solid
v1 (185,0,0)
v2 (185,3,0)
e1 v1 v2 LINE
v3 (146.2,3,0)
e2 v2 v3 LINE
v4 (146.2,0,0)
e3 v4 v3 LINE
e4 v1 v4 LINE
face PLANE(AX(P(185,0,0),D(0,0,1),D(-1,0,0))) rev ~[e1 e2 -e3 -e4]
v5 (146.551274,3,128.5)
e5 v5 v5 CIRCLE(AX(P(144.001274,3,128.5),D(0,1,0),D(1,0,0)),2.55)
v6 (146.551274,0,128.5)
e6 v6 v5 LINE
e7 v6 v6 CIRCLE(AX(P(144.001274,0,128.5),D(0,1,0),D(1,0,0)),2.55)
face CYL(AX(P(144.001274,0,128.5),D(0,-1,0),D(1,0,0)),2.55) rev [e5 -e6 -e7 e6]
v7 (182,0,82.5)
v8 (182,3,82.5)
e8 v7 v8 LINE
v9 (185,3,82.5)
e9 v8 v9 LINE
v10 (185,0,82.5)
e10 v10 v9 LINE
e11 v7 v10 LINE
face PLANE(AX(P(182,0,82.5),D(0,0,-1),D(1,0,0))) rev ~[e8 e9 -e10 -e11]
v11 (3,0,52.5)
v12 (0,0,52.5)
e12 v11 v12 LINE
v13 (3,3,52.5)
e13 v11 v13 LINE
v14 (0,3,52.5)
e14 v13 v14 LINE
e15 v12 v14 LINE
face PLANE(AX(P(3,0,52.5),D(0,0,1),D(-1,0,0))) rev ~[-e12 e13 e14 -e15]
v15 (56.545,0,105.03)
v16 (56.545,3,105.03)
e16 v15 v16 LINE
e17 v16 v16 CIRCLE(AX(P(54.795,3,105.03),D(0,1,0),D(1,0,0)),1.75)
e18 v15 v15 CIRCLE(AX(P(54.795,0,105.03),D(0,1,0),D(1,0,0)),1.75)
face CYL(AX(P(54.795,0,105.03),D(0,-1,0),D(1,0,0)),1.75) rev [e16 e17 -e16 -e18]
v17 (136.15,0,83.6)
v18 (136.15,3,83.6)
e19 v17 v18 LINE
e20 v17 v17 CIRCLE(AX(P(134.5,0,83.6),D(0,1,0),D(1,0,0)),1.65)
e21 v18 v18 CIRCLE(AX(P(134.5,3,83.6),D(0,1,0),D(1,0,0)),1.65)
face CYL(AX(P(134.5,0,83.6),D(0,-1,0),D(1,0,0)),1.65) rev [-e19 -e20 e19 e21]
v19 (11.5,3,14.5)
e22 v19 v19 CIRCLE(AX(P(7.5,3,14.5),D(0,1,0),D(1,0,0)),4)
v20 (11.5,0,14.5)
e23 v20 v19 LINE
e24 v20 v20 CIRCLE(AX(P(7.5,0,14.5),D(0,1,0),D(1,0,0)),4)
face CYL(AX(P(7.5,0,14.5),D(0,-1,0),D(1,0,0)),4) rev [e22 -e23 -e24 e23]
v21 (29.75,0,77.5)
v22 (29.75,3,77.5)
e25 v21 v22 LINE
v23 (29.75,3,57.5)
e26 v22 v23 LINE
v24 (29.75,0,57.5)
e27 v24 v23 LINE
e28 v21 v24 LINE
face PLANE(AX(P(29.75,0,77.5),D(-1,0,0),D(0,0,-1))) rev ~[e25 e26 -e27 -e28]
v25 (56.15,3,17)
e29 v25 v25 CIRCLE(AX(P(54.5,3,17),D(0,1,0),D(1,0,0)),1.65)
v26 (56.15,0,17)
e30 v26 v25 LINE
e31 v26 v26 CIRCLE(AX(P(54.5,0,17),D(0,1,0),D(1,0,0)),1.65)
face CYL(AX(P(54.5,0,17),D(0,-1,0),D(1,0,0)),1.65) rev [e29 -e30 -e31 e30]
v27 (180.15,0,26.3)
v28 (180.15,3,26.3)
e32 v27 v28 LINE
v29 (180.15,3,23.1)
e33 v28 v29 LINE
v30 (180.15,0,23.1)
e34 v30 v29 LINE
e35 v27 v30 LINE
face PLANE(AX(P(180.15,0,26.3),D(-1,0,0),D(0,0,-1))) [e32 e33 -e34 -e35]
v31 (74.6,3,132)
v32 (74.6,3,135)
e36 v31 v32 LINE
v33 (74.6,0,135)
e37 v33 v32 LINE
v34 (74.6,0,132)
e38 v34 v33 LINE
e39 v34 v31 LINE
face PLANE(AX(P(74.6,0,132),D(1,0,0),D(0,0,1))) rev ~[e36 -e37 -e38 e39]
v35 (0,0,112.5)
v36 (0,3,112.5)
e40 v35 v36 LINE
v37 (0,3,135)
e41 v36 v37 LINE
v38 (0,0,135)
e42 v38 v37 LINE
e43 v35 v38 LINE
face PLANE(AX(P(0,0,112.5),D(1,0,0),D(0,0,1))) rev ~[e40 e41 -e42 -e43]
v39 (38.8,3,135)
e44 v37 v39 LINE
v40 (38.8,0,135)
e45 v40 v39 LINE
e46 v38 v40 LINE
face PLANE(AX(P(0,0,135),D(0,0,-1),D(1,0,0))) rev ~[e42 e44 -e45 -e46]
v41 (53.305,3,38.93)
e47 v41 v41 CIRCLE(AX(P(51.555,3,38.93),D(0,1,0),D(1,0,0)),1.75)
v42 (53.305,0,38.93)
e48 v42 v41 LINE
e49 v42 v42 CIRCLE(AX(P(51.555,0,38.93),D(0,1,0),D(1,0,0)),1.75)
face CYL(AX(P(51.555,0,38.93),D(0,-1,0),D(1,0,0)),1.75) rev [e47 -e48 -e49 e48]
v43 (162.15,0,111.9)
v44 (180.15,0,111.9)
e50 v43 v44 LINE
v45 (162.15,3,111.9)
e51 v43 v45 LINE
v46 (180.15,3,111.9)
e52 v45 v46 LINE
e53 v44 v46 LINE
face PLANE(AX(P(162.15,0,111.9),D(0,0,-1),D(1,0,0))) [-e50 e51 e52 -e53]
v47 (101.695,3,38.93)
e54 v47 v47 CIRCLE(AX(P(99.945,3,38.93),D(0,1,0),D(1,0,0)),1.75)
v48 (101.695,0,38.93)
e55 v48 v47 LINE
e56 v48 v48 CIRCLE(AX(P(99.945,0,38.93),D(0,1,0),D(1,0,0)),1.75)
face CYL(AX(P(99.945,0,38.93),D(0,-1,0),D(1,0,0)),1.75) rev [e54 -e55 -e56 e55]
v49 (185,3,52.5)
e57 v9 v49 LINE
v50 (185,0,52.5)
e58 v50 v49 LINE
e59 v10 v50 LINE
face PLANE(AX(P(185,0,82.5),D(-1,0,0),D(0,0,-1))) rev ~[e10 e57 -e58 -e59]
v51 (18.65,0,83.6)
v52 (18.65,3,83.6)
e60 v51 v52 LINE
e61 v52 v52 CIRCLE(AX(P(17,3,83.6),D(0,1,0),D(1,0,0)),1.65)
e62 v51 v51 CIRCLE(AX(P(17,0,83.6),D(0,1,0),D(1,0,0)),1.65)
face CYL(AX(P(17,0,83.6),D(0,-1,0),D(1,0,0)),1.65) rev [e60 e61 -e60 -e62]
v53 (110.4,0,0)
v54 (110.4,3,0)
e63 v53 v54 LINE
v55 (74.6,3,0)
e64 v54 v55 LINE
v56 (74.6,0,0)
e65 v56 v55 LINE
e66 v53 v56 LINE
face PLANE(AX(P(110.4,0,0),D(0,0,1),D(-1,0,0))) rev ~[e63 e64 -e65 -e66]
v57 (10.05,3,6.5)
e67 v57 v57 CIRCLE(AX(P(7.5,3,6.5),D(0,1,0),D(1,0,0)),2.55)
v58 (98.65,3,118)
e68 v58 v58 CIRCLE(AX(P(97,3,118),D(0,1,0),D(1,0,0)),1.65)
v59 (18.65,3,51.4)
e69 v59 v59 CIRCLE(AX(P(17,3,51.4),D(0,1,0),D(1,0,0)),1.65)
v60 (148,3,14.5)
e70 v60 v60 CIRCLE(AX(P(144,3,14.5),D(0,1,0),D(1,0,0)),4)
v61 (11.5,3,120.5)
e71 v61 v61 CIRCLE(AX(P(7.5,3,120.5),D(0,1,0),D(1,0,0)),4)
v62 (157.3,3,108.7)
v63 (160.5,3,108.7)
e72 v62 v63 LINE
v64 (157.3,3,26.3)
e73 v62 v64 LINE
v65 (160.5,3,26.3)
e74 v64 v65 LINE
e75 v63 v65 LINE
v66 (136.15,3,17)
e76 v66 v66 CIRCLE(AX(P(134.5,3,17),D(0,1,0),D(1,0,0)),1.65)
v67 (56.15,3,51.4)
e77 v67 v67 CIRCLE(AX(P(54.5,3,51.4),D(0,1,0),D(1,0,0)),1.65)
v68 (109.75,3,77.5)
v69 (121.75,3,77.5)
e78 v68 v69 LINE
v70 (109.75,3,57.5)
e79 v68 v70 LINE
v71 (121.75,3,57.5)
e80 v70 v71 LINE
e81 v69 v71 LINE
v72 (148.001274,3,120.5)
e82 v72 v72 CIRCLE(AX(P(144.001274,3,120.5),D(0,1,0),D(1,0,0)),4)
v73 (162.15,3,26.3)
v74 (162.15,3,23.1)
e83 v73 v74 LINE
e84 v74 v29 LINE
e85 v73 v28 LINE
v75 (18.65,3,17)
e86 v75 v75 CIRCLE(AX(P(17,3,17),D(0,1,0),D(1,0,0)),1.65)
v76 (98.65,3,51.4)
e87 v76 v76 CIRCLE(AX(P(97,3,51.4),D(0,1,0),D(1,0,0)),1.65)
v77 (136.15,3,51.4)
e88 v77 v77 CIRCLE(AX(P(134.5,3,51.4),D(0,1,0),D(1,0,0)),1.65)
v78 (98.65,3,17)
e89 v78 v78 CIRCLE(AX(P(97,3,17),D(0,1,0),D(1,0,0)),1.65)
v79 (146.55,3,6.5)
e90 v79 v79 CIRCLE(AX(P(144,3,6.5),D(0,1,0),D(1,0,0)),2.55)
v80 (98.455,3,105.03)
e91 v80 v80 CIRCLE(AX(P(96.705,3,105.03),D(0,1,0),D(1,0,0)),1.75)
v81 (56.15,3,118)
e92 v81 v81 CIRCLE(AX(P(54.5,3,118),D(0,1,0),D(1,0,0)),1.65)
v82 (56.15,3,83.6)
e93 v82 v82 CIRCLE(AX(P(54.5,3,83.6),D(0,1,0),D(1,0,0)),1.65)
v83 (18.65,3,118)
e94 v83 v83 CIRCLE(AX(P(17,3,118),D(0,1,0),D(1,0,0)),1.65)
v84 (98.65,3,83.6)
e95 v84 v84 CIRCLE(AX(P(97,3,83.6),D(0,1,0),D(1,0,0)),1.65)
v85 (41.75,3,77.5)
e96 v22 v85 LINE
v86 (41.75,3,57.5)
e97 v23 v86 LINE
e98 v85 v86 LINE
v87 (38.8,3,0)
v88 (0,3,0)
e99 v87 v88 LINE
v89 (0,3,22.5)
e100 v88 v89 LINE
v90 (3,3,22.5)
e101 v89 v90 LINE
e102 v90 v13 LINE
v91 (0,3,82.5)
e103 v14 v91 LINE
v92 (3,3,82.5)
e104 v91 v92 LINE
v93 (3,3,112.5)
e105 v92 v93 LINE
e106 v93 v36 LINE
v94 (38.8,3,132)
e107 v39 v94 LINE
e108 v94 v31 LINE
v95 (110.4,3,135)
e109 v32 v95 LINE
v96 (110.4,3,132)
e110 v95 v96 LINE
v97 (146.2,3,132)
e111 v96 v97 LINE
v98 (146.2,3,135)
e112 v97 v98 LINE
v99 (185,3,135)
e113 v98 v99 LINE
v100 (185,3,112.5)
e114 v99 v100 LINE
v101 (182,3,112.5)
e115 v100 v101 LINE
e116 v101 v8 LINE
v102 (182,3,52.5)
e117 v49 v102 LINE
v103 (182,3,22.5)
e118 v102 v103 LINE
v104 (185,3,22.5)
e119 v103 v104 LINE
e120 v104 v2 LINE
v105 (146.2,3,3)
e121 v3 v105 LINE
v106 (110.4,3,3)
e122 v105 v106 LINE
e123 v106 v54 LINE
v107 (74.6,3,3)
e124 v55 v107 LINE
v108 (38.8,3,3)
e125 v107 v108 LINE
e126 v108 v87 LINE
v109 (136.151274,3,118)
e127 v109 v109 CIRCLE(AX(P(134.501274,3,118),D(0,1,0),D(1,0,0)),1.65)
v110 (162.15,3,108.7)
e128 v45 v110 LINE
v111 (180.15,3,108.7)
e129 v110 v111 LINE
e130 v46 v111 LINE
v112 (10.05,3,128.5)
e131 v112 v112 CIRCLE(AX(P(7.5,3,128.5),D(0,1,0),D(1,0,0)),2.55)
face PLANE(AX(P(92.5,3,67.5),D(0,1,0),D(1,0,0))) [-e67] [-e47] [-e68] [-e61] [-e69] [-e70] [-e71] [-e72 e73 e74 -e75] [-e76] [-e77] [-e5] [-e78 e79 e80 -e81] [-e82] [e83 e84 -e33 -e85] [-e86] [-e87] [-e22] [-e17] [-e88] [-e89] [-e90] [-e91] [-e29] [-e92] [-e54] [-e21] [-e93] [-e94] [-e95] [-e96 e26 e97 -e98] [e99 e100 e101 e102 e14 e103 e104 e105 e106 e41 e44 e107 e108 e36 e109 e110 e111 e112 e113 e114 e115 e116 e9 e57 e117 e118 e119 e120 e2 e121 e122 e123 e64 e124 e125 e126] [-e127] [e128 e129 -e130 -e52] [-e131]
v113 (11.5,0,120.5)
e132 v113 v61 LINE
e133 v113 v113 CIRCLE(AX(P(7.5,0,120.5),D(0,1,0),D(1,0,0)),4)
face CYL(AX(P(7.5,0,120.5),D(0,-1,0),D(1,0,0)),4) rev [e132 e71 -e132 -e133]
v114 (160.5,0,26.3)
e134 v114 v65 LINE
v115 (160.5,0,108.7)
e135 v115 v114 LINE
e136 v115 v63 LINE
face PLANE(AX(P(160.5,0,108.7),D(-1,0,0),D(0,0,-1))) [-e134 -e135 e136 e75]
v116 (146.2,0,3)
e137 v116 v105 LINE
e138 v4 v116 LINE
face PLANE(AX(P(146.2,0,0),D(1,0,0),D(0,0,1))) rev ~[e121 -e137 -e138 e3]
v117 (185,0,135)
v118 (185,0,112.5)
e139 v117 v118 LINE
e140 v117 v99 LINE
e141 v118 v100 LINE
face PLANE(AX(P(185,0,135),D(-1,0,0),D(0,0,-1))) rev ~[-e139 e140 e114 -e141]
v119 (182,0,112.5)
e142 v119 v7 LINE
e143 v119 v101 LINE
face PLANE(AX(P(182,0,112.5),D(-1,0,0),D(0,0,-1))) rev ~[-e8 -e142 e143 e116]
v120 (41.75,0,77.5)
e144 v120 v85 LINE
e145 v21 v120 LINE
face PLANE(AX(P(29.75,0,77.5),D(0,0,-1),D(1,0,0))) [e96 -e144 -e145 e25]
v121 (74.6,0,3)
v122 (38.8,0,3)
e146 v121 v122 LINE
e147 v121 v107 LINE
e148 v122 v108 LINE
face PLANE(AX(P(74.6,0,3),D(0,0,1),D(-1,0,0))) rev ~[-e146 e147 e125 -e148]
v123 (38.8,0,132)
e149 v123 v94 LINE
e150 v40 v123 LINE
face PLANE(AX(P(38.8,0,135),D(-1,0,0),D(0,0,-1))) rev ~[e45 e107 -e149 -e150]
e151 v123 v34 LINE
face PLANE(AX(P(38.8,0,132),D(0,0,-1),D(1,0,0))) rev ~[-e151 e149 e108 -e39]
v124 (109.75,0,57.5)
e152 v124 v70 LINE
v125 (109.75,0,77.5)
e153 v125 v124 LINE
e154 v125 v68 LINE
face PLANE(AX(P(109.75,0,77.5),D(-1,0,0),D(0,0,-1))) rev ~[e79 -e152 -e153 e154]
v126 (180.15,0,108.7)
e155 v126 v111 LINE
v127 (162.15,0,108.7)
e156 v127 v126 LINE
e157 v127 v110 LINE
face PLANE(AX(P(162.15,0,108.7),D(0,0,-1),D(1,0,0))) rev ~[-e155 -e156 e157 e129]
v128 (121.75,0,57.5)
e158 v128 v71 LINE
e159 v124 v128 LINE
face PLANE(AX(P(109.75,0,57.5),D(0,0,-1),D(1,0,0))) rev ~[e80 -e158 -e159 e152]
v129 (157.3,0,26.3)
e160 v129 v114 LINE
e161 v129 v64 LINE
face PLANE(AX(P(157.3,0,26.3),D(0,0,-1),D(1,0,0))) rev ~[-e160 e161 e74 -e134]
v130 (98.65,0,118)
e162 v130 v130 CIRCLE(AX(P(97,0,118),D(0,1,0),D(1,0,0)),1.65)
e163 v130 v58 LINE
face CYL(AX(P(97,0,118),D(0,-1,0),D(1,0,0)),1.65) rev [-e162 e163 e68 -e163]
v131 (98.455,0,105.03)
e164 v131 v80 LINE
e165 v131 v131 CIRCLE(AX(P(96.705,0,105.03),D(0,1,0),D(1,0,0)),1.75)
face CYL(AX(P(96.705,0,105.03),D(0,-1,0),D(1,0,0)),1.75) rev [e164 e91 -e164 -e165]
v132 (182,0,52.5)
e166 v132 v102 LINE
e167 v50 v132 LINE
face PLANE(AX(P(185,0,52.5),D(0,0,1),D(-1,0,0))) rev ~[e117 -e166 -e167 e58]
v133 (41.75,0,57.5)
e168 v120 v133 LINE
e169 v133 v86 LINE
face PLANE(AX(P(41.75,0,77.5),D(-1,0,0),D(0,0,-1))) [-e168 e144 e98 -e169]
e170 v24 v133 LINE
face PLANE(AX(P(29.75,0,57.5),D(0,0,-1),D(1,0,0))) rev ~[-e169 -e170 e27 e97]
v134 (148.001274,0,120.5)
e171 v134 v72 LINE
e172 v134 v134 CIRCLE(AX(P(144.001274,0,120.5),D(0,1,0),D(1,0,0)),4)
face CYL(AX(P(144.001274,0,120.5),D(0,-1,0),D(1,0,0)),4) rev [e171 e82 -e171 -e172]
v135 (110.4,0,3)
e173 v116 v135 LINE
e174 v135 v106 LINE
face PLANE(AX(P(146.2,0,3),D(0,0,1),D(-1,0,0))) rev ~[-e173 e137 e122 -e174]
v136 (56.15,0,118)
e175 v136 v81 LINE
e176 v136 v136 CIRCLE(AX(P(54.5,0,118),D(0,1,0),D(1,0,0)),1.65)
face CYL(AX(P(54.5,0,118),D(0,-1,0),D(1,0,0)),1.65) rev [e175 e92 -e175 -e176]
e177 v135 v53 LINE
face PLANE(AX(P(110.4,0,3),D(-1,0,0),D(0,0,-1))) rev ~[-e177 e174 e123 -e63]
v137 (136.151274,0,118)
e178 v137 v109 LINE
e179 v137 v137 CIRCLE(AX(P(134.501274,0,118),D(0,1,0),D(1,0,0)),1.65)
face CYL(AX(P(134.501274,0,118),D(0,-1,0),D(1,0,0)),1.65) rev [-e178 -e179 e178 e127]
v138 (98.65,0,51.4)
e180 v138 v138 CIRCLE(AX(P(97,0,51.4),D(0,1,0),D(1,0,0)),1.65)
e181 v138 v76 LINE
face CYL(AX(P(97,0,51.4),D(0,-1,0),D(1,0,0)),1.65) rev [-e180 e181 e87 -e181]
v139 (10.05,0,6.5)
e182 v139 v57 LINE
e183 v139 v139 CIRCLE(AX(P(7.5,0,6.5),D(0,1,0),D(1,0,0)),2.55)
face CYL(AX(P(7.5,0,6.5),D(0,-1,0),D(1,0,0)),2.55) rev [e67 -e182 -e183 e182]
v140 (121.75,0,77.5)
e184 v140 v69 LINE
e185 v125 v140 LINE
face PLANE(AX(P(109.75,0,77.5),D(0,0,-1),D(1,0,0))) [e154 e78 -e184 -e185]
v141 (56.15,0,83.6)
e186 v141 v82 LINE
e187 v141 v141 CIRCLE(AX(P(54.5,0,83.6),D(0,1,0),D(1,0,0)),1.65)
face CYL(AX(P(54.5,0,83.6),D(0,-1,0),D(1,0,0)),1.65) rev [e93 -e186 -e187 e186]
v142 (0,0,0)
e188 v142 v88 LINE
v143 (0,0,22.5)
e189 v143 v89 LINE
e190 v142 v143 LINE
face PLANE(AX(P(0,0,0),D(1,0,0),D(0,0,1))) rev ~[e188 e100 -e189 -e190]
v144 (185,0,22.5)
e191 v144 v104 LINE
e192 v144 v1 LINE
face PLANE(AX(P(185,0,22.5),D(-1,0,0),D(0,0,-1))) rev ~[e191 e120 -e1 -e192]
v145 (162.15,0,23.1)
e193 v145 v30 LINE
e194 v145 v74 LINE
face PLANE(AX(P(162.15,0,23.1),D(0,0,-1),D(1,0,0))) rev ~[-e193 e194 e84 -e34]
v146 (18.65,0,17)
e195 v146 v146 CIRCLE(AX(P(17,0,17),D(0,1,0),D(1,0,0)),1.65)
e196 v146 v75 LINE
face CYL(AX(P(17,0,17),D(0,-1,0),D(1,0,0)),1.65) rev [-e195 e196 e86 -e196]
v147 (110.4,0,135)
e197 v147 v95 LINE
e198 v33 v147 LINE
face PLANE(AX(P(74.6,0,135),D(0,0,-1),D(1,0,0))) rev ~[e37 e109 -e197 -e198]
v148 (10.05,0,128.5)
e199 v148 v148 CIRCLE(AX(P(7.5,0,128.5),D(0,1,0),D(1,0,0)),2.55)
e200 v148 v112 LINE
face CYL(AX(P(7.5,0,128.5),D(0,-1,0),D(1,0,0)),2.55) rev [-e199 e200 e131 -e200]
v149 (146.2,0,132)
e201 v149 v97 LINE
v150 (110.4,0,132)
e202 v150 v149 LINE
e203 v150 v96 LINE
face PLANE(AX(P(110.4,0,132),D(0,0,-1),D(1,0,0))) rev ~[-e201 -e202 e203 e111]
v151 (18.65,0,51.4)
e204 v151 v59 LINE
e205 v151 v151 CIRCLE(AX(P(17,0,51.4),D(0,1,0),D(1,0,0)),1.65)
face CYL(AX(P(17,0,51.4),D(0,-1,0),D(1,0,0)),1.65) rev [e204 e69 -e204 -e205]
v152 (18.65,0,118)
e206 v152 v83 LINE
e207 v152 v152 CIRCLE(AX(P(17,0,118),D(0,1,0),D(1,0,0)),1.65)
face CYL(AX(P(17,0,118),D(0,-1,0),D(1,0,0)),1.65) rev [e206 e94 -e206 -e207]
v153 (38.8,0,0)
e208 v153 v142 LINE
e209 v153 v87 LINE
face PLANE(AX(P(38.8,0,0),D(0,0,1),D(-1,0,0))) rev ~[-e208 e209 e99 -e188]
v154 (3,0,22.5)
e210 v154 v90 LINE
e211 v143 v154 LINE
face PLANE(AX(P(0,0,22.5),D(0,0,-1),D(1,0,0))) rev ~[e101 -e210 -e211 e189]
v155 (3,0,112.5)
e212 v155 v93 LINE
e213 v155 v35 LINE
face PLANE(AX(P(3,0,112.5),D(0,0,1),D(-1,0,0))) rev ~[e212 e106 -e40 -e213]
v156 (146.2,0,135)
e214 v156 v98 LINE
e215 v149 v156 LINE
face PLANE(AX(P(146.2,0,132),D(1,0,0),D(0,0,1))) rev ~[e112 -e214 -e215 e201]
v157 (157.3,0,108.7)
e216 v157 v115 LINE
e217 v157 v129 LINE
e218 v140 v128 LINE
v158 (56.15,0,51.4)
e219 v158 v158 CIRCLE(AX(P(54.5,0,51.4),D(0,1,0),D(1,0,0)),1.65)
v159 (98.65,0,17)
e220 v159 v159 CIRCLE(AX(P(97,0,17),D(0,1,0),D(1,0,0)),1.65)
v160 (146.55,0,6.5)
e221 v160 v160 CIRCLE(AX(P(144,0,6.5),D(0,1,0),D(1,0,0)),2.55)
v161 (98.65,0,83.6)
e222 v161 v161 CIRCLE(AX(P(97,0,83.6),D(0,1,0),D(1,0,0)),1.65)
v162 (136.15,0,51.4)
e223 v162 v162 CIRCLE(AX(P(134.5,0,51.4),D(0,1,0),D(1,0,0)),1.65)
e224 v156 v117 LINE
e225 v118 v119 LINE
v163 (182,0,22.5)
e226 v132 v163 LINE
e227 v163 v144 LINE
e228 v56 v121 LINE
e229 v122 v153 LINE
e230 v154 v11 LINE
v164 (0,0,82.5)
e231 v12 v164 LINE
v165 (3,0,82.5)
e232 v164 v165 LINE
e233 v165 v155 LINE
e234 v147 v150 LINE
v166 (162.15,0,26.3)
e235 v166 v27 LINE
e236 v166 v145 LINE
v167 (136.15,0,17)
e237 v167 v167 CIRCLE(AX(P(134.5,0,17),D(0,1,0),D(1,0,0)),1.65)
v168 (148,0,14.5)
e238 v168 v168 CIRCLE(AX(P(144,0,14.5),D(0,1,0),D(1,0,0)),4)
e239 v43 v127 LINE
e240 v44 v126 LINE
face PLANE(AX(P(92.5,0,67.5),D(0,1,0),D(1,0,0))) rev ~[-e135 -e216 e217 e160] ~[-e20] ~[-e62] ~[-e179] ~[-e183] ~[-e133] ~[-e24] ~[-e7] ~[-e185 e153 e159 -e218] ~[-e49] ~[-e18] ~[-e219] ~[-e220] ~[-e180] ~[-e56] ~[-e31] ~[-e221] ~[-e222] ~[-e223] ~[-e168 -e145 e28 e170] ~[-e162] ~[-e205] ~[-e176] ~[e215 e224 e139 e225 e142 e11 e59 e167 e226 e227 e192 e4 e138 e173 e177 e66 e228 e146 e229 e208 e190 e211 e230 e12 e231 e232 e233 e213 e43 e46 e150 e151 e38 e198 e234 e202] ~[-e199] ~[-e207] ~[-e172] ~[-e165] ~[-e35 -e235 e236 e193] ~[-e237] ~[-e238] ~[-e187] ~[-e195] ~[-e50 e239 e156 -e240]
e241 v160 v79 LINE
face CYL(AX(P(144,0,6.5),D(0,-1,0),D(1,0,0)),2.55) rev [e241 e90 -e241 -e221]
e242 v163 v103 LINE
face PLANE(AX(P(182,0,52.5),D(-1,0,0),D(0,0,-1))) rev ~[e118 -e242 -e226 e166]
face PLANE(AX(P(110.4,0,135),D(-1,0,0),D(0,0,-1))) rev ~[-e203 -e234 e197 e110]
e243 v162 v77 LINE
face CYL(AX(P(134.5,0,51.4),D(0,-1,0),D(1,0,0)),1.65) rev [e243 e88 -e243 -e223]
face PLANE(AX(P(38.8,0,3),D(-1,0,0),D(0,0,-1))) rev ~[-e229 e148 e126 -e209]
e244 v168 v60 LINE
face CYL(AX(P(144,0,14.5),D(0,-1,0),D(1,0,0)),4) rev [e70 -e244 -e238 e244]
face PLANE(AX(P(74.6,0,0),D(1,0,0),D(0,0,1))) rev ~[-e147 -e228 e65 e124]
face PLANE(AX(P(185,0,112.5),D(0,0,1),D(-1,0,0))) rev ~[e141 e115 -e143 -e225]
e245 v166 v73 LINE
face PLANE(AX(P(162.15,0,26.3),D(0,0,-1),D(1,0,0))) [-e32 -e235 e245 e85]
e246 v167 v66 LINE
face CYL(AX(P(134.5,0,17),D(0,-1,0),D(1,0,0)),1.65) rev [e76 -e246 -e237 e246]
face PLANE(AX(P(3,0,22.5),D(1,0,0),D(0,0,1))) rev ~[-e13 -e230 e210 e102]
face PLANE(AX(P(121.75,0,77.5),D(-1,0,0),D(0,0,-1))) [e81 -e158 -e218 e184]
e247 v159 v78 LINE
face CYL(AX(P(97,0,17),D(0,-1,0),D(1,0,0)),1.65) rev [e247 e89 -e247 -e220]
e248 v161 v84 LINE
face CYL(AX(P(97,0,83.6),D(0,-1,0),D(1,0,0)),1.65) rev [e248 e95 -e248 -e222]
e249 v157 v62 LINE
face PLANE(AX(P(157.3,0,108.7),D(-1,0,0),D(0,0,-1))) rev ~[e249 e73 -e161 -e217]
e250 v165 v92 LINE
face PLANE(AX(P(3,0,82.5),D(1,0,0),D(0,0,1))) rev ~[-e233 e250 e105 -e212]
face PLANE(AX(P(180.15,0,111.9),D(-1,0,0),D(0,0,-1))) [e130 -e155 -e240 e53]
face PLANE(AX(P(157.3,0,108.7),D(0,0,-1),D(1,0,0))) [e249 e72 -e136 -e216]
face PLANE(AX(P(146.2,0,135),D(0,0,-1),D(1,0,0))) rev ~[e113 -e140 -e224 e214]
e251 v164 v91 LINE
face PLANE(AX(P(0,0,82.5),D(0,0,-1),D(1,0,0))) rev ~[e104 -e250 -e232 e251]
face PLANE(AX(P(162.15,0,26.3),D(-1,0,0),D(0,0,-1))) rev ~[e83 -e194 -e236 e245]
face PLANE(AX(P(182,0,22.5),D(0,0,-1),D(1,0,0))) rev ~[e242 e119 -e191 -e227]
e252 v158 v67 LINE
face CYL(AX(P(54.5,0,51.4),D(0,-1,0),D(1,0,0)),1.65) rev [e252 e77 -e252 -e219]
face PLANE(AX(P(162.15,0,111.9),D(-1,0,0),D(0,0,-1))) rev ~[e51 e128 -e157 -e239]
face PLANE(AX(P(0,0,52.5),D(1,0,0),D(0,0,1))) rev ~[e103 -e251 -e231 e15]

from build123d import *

# Parameters (mm, degrees)
SKETCH1_R           = 2.55
SKETCH1_R_2         = 4
SKETCH1_R_3         = 1.65
SKETCH1_R_4         = 1.75
SKETCH1_W           = 12
SKETCH1_H           = 20
SKETCH1_W_2         = 18
SKETCH1_H_2         = 3.2
SKETCH1_W_3         = 3.2
SKETCH1_H_3         = 82.4
BOSS_EXTRUDE1_DEPTH = 3


with BuildPart() as part:
    # Sketch1 → Boss-Extrude1 (new body)
    with BuildSketch(Plane(origin=(0, 0, 0), x_dir=(1, 0, 0), z_dir=(0, 1, 0))):
        Polygon((38.8, 0), (0, 0), (0, -22.5), (3, -22.5), (3, -52.5), (0, -52.5), (0, -82.5), (3, -82.5), (3, -112.5), (0, -112.5), (0, -135), (38.8, -135), (38.8, -132), (74.6, -132), (74.6, -135), (110.4, -135), (110.4, -132), (146.2, -132), (146.2, -135), (185, -135), (185, -112.5), (182, -112.5), (182, -82.5), (185, -82.5), (185, -52.5), (182, -52.5), (182, -22.5), (185, -22.5), (185, 0), (146.2, 0), (146.2, -3), (110.4, -3), (110.4, 0), (74.6, 0), (74.6, -3), (38.8, -3), align=None)
        with Locations((7.5, -128.5)):
            Circle(SKETCH1_R, mode=Mode.SUBTRACT)
        with Locations((7.5, -120.5)):
            Circle(SKETCH1_R_2, mode=Mode.SUBTRACT)
        with Locations((17, -118)):
            Circle(SKETCH1_R_3, mode=Mode.SUBTRACT)
        with Locations((54.5, -118)):
            Circle(SKETCH1_R_3, mode=Mode.SUBTRACT)
        with Locations((54.795, -105.03)):
            Circle(SKETCH1_R_4, mode=Mode.SUBTRACT)
        with Locations((17, -83.6)):
            Circle(SKETCH1_R_3, mode=Mode.SUBTRACT)
        with Locations((35.75, -67.5)):
            Rectangle(SKETCH1_W, SKETCH1_H, mode=Mode.SUBTRACT)
        with Locations((54.5, -83.6)):
            Circle(SKETCH1_R_3, mode=Mode.SUBTRACT)
        with Locations((97, -118)):
            Circle(SKETCH1_R_3, mode=Mode.SUBTRACT)
        with Locations((96.705, -105.03)):
            Circle(SKETCH1_R_4, mode=Mode.SUBTRACT)
        with Locations((134.501274191, -118)):
            Circle(SKETCH1_R_3, mode=Mode.SUBTRACT)
        with Locations((144.001274191, -128.5)):
            Circle(SKETCH1_R, mode=Mode.SUBTRACT)
        with Locations((144.001274191, -120.5)):
            Circle(SKETCH1_R_2, mode=Mode.SUBTRACT)
        with Locations((171.15, -110.3)):
            Rectangle(SKETCH1_W_2, SKETCH1_H_2, mode=Mode.SUBTRACT)
        with Locations((97, -83.6)):
            Circle(SKETCH1_R_3, mode=Mode.SUBTRACT)
        with Locations((134.5, -83.6)):
            Circle(SKETCH1_R_3, mode=Mode.SUBTRACT)
        with Locations((115.75, -67.5)):
            Rectangle(SKETCH1_W, SKETCH1_H, mode=Mode.SUBTRACT)
        with Locations((17, -51.4)):
            Circle(SKETCH1_R_3, mode=Mode.SUBTRACT)
        with Locations((54.5, -51.4)):
            Circle(SKETCH1_R_3, mode=Mode.SUBTRACT)
        with Locations((51.555, -38.93)):
            Circle(SKETCH1_R_4, mode=Mode.SUBTRACT)
        with Locations((17, -17)):
            Circle(SKETCH1_R_3, mode=Mode.SUBTRACT)
        with Locations((7.5, -14.5)):
            Circle(SKETCH1_R_2, mode=Mode.SUBTRACT)
        with Locations((7.5, -6.5)):
            Circle(SKETCH1_R, mode=Mode.SUBTRACT)
        with Locations((54.5, -17)):
            Circle(SKETCH1_R_3, mode=Mode.SUBTRACT)
        with Locations((97, -51.4)):
            Circle(SKETCH1_R_3, mode=Mode.SUBTRACT)
        with Locations((134.5, -51.4)):
            Circle(SKETCH1_R_3, mode=Mode.SUBTRACT)
        with Locations((99.945, -38.93)):
            Circle(SKETCH1_R_4, mode=Mode.SUBTRACT)
        with Locations((158.9, -67.5)):
            Rectangle(SKETCH1_W_3, SKETCH1_H_3, mode=Mode.SUBTRACT)
        with Locations((97, -17)):
            Circle(SKETCH1_R_3, mode=Mode.SUBTRACT)
        with Locations((134.5, -17)):
            Circle(SKETCH1_R_3, mode=Mode.SUBTRACT)
        with Locations((171.15, -24.7)):
            Rectangle(SKETCH1_W_2, SKETCH1_H_2, mode=Mode.SUBTRACT)
        with Locations((144, -14.5)):
            Circle(SKETCH1_R_2, mode=Mode.SUBTRACT)
        with Locations((144, -6.5)):
            Circle(SKETCH1_R, mode=Mode.SUBTRACT)
    extrude(amount=BOSS_EXTRUDE1_DEPTH)


solid = part.part
